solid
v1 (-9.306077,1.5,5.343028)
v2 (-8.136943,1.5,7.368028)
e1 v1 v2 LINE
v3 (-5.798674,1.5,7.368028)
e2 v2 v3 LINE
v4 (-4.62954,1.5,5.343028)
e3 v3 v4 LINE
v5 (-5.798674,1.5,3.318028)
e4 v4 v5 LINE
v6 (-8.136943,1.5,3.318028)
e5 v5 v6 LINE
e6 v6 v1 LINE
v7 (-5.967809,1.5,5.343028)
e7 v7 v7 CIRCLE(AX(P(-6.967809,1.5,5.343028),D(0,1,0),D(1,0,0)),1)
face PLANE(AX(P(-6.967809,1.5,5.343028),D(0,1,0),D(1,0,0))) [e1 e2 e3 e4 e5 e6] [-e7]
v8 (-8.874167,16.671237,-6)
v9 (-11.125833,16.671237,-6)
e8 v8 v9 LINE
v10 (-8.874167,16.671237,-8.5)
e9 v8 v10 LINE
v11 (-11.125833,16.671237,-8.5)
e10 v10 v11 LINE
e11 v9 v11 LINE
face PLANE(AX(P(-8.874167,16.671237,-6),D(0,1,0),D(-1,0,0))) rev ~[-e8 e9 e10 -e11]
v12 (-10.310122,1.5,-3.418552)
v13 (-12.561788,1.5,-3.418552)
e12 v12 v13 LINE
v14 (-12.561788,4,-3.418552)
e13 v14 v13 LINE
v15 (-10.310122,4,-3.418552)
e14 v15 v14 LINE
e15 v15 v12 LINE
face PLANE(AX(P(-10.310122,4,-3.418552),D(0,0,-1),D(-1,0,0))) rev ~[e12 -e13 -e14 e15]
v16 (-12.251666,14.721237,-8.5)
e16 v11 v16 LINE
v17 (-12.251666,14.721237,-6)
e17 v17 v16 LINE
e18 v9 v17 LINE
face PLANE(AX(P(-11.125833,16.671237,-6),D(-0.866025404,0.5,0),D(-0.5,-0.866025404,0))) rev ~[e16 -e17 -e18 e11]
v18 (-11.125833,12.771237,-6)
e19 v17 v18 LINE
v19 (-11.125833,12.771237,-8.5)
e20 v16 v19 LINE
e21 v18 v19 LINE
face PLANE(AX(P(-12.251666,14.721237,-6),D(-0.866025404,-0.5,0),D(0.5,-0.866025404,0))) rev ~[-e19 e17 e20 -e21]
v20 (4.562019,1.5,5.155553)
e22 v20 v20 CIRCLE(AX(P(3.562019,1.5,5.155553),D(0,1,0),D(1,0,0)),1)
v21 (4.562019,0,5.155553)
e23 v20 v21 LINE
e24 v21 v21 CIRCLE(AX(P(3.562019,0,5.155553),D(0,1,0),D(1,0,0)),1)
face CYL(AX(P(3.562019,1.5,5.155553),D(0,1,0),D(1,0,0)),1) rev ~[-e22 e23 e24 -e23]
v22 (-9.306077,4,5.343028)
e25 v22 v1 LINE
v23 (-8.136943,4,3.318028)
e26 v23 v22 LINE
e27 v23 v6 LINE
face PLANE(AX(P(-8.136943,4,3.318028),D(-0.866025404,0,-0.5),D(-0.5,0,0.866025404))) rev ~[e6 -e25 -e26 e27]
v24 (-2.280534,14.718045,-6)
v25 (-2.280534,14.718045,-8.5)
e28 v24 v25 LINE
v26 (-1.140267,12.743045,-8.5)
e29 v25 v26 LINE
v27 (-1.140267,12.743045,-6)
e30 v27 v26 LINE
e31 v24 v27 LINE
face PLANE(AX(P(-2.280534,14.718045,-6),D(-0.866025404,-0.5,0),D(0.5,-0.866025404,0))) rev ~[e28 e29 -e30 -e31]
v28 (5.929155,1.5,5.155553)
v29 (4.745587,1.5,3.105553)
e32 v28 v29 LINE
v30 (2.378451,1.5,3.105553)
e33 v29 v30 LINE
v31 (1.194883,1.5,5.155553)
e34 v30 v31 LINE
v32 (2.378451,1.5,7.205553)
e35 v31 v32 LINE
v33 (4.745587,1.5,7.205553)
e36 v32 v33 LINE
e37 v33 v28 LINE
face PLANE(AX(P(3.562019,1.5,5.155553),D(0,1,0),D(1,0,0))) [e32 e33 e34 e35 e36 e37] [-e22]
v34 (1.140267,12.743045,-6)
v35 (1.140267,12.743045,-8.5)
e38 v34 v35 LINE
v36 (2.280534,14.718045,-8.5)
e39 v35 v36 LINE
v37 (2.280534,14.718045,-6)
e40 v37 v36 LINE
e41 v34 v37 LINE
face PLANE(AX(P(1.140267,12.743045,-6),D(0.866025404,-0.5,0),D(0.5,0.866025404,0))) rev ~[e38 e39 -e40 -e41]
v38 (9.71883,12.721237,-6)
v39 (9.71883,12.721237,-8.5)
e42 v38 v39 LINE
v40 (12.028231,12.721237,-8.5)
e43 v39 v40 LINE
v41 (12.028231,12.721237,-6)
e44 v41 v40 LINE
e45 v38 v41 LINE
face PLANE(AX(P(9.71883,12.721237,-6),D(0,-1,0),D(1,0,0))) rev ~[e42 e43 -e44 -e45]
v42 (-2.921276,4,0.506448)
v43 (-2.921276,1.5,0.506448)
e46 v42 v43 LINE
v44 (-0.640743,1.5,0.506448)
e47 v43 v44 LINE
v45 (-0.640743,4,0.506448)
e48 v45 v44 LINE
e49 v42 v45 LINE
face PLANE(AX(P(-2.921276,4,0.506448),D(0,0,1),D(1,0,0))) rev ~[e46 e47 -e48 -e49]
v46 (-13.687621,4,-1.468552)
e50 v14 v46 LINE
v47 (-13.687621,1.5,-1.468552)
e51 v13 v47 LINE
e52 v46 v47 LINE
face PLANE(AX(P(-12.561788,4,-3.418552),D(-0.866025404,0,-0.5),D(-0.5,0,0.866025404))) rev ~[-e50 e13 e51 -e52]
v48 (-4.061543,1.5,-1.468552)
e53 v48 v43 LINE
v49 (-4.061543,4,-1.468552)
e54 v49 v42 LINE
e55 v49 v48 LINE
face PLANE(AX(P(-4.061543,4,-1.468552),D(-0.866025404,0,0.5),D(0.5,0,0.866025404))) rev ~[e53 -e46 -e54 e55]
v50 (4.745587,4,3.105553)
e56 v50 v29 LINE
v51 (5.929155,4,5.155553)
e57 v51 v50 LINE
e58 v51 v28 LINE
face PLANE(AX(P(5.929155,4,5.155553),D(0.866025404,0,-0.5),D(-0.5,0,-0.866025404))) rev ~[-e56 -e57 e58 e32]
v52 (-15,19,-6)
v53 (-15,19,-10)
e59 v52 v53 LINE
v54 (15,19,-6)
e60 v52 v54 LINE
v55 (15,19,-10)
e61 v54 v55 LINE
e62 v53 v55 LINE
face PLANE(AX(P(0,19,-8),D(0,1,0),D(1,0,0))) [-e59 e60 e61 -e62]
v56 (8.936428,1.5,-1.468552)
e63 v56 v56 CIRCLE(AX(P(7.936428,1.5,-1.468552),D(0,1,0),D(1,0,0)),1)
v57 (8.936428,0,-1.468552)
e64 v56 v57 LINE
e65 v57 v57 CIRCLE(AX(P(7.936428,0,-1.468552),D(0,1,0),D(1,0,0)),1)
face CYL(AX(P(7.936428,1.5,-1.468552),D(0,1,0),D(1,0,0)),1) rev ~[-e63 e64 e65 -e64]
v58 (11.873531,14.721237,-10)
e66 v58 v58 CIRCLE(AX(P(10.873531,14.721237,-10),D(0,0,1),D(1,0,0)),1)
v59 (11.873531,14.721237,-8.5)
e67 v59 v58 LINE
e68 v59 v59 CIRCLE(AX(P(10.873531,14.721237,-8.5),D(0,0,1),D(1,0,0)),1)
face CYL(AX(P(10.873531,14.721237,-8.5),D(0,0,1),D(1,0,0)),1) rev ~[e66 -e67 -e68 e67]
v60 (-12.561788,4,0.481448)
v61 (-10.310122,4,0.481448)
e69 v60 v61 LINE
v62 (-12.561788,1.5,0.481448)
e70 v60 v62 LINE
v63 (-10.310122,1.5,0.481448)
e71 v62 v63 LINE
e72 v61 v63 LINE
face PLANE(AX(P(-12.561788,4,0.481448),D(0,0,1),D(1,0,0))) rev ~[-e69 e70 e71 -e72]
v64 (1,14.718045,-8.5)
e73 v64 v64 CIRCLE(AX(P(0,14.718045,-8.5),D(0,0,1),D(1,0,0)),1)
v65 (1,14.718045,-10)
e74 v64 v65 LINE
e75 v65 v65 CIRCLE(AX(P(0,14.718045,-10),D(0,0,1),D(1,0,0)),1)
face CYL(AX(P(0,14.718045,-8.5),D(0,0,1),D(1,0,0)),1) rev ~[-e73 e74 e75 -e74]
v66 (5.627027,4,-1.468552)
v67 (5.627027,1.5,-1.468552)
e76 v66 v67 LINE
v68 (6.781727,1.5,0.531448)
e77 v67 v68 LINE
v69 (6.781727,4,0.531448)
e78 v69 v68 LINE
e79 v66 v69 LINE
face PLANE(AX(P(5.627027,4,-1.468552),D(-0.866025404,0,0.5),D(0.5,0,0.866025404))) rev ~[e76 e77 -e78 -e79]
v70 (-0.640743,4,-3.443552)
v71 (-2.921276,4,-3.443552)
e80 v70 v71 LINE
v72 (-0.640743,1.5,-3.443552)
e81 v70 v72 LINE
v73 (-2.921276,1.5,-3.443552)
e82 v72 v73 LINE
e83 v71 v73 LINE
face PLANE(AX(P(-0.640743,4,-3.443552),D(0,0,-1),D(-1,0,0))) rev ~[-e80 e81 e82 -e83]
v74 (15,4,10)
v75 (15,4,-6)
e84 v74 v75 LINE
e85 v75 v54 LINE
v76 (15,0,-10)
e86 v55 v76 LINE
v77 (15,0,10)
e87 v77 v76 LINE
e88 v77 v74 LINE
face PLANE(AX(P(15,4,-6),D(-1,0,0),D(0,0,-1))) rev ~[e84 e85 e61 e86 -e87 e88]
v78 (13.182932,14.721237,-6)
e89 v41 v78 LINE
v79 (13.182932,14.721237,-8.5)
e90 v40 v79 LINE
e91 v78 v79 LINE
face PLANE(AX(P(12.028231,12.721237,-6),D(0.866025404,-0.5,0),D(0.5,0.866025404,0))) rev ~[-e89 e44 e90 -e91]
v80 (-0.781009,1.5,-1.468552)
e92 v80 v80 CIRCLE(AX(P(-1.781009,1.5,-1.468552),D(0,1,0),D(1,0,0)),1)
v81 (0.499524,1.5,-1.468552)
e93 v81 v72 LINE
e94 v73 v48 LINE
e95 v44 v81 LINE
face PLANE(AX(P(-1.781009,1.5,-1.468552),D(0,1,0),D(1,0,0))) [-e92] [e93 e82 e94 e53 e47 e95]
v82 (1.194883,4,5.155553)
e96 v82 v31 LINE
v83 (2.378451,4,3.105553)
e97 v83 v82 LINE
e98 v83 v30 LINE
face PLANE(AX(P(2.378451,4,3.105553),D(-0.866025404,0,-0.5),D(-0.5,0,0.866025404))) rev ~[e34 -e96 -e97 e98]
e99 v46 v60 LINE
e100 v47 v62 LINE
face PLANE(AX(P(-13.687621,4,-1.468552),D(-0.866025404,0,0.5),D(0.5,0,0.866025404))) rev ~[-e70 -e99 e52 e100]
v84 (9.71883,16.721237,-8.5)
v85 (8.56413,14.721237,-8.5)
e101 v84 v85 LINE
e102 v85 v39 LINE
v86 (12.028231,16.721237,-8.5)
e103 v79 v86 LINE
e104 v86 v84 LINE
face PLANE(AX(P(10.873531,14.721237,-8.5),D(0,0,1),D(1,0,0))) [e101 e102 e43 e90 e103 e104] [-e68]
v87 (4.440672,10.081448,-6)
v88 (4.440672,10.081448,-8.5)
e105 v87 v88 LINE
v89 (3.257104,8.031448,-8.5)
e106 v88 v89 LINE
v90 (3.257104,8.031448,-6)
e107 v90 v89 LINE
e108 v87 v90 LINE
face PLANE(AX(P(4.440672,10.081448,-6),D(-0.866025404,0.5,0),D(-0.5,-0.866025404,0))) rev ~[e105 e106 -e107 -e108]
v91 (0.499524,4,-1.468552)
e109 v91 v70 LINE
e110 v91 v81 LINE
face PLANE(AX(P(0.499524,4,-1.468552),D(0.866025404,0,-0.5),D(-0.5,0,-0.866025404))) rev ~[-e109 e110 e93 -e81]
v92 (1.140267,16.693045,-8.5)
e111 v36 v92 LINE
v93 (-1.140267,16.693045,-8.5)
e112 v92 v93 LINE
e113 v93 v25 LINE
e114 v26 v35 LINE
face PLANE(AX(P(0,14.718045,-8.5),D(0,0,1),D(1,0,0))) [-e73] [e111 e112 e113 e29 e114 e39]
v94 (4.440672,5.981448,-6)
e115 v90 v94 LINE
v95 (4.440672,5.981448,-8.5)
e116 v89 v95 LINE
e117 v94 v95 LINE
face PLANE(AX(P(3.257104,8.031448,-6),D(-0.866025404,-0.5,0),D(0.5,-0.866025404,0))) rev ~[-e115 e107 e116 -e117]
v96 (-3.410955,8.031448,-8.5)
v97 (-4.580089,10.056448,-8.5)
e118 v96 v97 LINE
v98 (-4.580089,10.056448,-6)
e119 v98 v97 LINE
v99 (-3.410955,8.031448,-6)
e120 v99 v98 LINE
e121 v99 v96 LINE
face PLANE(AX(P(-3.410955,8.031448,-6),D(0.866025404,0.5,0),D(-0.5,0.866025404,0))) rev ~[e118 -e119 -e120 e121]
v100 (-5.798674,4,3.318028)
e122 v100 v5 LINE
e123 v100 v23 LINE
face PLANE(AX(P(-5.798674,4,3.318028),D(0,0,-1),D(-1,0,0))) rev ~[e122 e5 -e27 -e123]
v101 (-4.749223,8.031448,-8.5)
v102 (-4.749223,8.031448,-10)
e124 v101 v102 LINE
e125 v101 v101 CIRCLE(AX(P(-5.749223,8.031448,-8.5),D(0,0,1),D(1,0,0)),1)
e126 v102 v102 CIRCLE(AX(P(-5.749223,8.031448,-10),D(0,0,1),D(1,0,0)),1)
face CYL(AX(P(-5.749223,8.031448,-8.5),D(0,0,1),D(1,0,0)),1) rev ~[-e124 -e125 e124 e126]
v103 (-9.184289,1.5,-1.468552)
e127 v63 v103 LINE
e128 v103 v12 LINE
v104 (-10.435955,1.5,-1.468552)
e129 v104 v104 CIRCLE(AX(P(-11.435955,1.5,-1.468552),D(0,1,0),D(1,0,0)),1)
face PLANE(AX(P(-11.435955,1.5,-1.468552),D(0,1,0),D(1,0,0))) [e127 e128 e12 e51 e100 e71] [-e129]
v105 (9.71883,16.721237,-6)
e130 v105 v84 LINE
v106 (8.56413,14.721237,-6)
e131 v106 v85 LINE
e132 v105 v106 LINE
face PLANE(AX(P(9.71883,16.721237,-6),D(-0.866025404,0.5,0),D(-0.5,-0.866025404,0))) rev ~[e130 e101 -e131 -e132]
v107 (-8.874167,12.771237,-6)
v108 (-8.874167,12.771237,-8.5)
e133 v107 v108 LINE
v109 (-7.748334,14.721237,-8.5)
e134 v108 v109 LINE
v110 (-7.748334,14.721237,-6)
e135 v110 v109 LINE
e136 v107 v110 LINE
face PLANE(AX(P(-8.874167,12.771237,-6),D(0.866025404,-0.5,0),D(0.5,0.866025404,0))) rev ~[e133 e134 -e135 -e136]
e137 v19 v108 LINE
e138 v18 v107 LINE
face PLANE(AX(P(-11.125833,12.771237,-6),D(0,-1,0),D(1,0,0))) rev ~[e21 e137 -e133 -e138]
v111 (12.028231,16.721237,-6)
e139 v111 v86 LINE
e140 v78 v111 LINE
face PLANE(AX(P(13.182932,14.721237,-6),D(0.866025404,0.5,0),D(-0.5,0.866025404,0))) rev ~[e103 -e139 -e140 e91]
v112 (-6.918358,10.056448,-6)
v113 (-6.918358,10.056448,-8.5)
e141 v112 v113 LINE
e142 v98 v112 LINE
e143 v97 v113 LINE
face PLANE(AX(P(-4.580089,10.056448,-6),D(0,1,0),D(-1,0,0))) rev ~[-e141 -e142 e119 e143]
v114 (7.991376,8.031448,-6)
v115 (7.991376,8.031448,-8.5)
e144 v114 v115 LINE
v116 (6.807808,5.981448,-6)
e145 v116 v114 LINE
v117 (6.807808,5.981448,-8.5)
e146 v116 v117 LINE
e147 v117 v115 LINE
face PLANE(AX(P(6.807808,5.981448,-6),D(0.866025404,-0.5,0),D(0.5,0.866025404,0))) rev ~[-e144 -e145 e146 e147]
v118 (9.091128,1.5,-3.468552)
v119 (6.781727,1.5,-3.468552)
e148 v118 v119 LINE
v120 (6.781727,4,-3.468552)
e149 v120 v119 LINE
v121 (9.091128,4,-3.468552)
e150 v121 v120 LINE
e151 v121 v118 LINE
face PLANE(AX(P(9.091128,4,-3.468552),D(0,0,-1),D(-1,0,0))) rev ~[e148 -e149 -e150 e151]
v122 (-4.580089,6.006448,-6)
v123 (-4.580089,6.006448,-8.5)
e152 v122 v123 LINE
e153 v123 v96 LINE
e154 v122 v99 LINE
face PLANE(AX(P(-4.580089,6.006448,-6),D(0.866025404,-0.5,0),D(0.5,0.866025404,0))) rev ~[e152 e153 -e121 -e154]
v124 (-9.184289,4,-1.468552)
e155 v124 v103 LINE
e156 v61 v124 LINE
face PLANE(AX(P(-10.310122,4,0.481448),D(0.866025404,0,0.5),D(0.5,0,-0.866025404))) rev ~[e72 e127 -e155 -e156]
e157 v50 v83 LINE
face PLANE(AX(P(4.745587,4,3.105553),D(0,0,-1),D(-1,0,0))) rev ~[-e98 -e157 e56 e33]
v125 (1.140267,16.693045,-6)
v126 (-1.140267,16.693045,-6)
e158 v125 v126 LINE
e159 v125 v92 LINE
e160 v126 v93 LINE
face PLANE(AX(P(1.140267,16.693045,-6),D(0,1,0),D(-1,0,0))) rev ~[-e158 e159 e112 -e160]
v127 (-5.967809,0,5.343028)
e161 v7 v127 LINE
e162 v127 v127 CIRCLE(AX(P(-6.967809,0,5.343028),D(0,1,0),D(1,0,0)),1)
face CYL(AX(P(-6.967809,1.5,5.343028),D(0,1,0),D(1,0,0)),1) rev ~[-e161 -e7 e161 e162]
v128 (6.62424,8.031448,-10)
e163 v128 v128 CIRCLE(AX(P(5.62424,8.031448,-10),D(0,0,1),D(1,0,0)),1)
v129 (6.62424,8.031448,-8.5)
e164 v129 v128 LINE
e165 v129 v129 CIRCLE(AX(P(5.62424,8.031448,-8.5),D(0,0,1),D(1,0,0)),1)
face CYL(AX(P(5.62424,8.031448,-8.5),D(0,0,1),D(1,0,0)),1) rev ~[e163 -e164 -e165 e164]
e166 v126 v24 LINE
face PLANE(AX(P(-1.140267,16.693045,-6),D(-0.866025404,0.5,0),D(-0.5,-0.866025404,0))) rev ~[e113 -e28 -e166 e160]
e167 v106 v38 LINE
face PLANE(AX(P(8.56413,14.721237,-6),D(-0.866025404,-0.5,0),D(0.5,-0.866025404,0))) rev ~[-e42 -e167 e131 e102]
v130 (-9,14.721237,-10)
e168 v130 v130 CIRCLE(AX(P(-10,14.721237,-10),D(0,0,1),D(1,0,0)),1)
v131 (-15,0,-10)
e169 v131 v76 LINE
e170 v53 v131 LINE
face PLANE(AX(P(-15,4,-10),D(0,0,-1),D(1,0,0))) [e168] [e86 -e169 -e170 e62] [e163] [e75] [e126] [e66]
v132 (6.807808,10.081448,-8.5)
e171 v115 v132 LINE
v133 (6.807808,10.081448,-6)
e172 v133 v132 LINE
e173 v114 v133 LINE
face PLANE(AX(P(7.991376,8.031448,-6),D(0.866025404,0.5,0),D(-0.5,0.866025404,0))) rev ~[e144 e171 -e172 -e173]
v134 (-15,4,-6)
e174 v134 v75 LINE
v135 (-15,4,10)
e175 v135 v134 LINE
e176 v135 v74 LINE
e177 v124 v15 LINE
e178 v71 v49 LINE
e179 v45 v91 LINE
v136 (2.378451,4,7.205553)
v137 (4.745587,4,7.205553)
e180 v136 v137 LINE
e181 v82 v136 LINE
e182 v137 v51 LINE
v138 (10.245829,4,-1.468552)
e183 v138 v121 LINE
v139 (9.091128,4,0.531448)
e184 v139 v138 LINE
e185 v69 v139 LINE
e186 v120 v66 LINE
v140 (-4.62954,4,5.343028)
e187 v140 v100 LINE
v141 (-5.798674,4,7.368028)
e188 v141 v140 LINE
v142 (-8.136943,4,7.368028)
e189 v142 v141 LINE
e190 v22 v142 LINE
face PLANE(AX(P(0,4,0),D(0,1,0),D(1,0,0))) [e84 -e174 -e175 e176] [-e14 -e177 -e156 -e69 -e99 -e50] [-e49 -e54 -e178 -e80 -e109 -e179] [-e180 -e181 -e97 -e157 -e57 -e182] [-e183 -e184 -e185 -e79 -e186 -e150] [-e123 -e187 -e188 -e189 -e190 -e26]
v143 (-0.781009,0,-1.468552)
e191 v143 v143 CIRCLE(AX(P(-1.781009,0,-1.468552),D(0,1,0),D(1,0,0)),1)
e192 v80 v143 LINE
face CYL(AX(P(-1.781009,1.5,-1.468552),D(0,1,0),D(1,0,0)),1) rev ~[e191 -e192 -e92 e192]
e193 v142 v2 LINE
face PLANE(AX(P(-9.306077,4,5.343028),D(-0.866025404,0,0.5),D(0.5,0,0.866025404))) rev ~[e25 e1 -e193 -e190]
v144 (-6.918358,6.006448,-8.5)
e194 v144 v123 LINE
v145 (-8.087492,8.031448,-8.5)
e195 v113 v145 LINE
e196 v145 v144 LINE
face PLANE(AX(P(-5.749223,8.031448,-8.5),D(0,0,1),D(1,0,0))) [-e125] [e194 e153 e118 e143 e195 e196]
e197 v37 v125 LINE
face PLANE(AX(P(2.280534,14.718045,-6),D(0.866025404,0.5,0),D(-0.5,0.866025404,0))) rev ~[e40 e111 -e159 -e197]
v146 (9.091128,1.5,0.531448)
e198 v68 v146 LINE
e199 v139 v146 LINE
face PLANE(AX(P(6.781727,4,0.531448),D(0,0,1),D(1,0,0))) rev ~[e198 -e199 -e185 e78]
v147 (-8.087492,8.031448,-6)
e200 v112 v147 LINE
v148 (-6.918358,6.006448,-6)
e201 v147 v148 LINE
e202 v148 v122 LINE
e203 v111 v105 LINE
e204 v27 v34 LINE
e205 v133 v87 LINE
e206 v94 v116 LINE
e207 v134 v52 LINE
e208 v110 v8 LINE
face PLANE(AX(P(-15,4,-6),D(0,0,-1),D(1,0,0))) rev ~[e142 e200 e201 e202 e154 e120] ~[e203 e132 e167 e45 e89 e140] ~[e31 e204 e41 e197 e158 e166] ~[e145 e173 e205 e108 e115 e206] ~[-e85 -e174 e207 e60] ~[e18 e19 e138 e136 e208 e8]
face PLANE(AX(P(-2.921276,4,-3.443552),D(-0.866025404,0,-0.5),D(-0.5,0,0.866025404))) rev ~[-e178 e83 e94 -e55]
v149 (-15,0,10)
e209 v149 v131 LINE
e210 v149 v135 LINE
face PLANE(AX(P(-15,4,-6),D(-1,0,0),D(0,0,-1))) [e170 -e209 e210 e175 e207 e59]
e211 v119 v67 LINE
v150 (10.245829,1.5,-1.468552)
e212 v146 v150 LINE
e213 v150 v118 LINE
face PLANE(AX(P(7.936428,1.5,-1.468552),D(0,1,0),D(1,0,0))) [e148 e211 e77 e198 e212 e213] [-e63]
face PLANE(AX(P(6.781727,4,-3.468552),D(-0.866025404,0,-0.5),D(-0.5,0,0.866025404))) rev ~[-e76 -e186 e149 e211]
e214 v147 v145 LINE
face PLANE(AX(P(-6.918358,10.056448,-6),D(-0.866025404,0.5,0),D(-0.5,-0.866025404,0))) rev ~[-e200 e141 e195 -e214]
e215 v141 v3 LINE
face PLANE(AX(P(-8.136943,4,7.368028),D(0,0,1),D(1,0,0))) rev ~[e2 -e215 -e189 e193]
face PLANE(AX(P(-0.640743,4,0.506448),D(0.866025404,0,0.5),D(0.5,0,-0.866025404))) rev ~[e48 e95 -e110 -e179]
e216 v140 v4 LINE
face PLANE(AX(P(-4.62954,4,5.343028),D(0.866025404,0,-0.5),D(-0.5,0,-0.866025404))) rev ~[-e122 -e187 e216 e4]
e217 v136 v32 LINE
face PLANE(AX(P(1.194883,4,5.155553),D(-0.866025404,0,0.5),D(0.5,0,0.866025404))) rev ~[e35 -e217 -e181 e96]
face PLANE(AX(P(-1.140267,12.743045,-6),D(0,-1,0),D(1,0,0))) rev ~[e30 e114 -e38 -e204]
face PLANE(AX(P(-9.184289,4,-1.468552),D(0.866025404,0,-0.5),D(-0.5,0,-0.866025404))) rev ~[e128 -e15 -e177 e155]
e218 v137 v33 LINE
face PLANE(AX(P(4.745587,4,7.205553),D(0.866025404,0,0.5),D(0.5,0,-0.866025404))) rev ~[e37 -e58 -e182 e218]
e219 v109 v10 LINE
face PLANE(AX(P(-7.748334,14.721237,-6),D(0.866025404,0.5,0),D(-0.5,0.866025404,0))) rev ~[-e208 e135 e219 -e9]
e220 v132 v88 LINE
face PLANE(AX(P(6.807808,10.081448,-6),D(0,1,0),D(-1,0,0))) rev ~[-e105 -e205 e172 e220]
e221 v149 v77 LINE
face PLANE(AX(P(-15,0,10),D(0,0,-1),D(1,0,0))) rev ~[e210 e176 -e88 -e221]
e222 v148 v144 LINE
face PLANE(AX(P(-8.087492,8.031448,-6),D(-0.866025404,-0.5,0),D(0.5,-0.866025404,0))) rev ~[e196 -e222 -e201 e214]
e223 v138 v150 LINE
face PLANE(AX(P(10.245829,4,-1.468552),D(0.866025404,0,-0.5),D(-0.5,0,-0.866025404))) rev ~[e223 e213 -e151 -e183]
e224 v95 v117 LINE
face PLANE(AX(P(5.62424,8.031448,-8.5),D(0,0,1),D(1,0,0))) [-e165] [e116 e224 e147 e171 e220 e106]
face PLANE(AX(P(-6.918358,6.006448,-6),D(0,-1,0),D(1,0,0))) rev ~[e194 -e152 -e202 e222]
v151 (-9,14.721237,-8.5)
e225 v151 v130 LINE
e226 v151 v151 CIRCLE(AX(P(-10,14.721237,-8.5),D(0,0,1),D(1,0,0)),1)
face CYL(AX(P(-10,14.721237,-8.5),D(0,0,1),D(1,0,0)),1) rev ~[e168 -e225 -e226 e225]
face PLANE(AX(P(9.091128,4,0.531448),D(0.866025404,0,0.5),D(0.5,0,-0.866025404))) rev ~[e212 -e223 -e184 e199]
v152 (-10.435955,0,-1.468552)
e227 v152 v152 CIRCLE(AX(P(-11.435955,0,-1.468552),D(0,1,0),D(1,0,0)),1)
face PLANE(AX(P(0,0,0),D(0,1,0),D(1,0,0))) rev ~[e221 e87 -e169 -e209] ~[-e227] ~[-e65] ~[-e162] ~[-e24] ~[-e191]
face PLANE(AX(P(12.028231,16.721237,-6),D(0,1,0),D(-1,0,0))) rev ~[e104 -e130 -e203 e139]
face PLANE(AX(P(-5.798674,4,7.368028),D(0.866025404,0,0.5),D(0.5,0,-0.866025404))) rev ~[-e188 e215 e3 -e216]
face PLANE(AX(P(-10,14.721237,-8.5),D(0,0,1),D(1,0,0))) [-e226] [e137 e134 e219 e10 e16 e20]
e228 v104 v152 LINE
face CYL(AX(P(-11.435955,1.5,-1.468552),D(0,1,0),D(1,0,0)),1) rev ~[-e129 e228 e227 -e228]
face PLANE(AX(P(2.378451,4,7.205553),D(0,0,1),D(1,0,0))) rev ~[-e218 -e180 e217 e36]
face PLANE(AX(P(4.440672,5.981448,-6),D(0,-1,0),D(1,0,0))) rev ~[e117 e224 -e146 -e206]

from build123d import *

# Parameters (mm, degrees)
SKETCH1_W               = 30
SKETCH1_H               = 20
BOSS_EXTRUDE1_DEPTH     = 4
SKETCH2_W               = 30
SKETCH2_H               = 4
BOSS_EXTRUDE2_DEPTH     = 15
CUT_EXTRUDE1_DEPTH      = 2.5
SKETCH4_R               = 1
CUT_EXTRUDE2_DEPTH      = 19.5
CUT_EXTRUDE2_DEPTH_BACK = 2.5
CUT_EXTRUDE3_DEPTH      = 16
CUT_EXTRUDE3_DEPTH_BACK = 2.5
SKETCH6_R               = 1
CUT_EXTRUDE4_DEPTH      = 18.5
CUT_EXTRUDE4_DEPTH_BACK = 2.5


with BuildPart() as part:
    # Sketch1 → Boss-Extrude1 (new body)
    with BuildSketch(Plane(origin=(0, 0, 0), x_dir=(1, 0, 0), z_dir=(0, 1, 0))):
        Rectangle(SKETCH1_W, SKETCH1_H)
    extrude(amount=BOSS_EXTRUDE1_DEPTH)

    # Sketch2 → Boss-Extrude2 (add)
    with BuildSketch(Plane(origin=(0, 4, 0), x_dir=(1, 0, 0), z_dir=(0, 1, 0))):
        with Locations((0, 8)):
            Rectangle(SKETCH2_W, SKETCH2_H)
    extrude(amount=BOSS_EXTRUDE2_DEPTH)

    # Sketch3 → Cut-Extrude1 (cut)
    with BuildSketch(Plane.XY.offset(-6)):
        Polygon((-8.874166975, 12.771236672), (-7.74833395, 14.721236672), (-8.874166975, 16.671236672), (-11.125833025, 16.671236672), (-12.25166605, 14.721236672), (-11.125833025, 12.771236672), align=None)
        Polygon((1.140266782, 12.743045001), (2.280533563, 14.718045001), (1.140266782, 16.693045001), (-1.140266782, 16.693045001), (-2.280533563, 14.718045001), (-1.140266782, 12.743045001), align=None)
        Polygon((12.028231439, 12.721236672), (13.182931977, 14.721236672), (12.028231439, 16.721236672), (9.718830362, 16.721236672), (8.564129823, 14.721236672), (9.718830362, 12.721236672), align=None)
        Polygon((-4.580088939, 6.006448413), (-3.410954644, 8.031448413), (-4.580088939, 10.056448413), (-6.91835753, 10.056448413), (-8.087491825, 8.031448413), (-6.91835753, 6.006448413), align=None)
        Polygon((6.807808173, 5.981448413), (7.991376224, 8.031448413), (6.807808173, 10.081448413), (4.440672069, 10.081448413), (3.257104017, 8.031448413), (4.440672069, 5.981448413), align=None)
    extrude(amount=-CUT_EXTRUDE1_DEPTH, mode=Mode.SUBTRACT)

    # Sketch4 → Cut-Extrude2 (cut, two sides)
    with BuildSketch(Plane.XY.offset(-8.5)) as cut_extrude2_sk:
        with Locations((-10, 14.721236672)):
            Circle(SKETCH4_R)
        with Locations((0, 14.718045001)):
            Circle(SKETCH4_R)
        with Locations((10.8735309, 14.721236672)):
            Circle(SKETCH4_R)
        with Locations((5.624240121, 8.031448413)):
            Circle(SKETCH4_R)
        with Locations((-5.749223235, 8.031448413)):
            Circle(SKETCH4_R)
    extrude(amount=CUT_EXTRUDE2_DEPTH, mode=Mode.SUBTRACT)
    extrude(cut_extrude2_sk.sketch, amount=-CUT_EXTRUDE2_DEPTH_BACK, mode=Mode.SUBTRACT)

    # Sketch5 → Cut-Extrude3 (cut, two sides)
    with BuildSketch(Plane(origin=(0, 4, 0), x_dir=(1, 0, 0), z_dir=(0, 1, 0))) as cut_extrude3_sk:
        Polygon((-10.310121887, -0.481448413), (-9.184288862, 1.468551587), (-10.310121887, 3.418551587), (-12.561787937, 3.418551587), (-13.687620962, 1.468551587), (-12.561787937, -0.481448413), align=None)
        Polygon((-0.64074259, -0.506448413), (0.499524192, 1.468551587), (-0.64074259, 3.443551587), (-2.921276153, 3.443551587), (-4.061542935, 1.468551587), (-2.921276153, -0.506448413), align=None)
        Polygon((9.091128264, -0.531448413), (10.245828803, 1.468551587), (9.091128264, 3.468551587), (6.781727188, 3.468551587), (5.627026649, 1.468551587), (6.781727188, -0.531448413), align=None)
        Polygon((-5.798674299, -7.368028115), (-4.629540004, -5.343028115), (-5.798674299, -3.318028115), (-8.136942889, -3.318028115), (-9.306077184, -5.343028115), (-8.136942889, -7.368028115), align=None)
        Polygon((4.745586795, -7.205553444), (5.929154847, -5.155553444), (4.745586795, -3.105553444), (2.378450691, -3.105553444), (1.194882639, -5.155553444), (2.378450691, -7.205553444), align=None)
    extrude(amount=CUT_EXTRUDE3_DEPTH, mode=Mode.SUBTRACT)
    extrude(cut_extrude3_sk.sketch, amount=-CUT_EXTRUDE3_DEPTH_BACK, mode=Mode.SUBTRACT)

    # Sketch6 → Cut-Extrude4 (cut, two sides)
    with BuildSketch(Plane(origin=(0, 1.5, 0), x_dir=(1, 0, 0), z_dir=(0, 1, 0))) as cut_extrude4_sk:
        with Locations((-11.435954912, 1.468551587)):
            Circle(SKETCH6_R)
        with Locations((-1.781009372, 1.468551587)):
            Circle(SKETCH6_R)
        with Locations((7.936427726, 1.468551587)):
            Circle(SKETCH6_R)
        with Locations((3.562018743, -5.155553444)):
            Circle(SKETCH6_R)
        with Locations((-6.967808594, -5.343028115)):
            Circle(SKETCH6_R)
    extrude(amount=CUT_EXTRUDE4_DEPTH, mode=Mode.SUBTRACT)
    extrude(cut_extrude4_sk.sketch, amount=-CUT_EXTRUDE4_DEPTH_BACK, mode=Mode.SUBTRACT)


solid = part.part
